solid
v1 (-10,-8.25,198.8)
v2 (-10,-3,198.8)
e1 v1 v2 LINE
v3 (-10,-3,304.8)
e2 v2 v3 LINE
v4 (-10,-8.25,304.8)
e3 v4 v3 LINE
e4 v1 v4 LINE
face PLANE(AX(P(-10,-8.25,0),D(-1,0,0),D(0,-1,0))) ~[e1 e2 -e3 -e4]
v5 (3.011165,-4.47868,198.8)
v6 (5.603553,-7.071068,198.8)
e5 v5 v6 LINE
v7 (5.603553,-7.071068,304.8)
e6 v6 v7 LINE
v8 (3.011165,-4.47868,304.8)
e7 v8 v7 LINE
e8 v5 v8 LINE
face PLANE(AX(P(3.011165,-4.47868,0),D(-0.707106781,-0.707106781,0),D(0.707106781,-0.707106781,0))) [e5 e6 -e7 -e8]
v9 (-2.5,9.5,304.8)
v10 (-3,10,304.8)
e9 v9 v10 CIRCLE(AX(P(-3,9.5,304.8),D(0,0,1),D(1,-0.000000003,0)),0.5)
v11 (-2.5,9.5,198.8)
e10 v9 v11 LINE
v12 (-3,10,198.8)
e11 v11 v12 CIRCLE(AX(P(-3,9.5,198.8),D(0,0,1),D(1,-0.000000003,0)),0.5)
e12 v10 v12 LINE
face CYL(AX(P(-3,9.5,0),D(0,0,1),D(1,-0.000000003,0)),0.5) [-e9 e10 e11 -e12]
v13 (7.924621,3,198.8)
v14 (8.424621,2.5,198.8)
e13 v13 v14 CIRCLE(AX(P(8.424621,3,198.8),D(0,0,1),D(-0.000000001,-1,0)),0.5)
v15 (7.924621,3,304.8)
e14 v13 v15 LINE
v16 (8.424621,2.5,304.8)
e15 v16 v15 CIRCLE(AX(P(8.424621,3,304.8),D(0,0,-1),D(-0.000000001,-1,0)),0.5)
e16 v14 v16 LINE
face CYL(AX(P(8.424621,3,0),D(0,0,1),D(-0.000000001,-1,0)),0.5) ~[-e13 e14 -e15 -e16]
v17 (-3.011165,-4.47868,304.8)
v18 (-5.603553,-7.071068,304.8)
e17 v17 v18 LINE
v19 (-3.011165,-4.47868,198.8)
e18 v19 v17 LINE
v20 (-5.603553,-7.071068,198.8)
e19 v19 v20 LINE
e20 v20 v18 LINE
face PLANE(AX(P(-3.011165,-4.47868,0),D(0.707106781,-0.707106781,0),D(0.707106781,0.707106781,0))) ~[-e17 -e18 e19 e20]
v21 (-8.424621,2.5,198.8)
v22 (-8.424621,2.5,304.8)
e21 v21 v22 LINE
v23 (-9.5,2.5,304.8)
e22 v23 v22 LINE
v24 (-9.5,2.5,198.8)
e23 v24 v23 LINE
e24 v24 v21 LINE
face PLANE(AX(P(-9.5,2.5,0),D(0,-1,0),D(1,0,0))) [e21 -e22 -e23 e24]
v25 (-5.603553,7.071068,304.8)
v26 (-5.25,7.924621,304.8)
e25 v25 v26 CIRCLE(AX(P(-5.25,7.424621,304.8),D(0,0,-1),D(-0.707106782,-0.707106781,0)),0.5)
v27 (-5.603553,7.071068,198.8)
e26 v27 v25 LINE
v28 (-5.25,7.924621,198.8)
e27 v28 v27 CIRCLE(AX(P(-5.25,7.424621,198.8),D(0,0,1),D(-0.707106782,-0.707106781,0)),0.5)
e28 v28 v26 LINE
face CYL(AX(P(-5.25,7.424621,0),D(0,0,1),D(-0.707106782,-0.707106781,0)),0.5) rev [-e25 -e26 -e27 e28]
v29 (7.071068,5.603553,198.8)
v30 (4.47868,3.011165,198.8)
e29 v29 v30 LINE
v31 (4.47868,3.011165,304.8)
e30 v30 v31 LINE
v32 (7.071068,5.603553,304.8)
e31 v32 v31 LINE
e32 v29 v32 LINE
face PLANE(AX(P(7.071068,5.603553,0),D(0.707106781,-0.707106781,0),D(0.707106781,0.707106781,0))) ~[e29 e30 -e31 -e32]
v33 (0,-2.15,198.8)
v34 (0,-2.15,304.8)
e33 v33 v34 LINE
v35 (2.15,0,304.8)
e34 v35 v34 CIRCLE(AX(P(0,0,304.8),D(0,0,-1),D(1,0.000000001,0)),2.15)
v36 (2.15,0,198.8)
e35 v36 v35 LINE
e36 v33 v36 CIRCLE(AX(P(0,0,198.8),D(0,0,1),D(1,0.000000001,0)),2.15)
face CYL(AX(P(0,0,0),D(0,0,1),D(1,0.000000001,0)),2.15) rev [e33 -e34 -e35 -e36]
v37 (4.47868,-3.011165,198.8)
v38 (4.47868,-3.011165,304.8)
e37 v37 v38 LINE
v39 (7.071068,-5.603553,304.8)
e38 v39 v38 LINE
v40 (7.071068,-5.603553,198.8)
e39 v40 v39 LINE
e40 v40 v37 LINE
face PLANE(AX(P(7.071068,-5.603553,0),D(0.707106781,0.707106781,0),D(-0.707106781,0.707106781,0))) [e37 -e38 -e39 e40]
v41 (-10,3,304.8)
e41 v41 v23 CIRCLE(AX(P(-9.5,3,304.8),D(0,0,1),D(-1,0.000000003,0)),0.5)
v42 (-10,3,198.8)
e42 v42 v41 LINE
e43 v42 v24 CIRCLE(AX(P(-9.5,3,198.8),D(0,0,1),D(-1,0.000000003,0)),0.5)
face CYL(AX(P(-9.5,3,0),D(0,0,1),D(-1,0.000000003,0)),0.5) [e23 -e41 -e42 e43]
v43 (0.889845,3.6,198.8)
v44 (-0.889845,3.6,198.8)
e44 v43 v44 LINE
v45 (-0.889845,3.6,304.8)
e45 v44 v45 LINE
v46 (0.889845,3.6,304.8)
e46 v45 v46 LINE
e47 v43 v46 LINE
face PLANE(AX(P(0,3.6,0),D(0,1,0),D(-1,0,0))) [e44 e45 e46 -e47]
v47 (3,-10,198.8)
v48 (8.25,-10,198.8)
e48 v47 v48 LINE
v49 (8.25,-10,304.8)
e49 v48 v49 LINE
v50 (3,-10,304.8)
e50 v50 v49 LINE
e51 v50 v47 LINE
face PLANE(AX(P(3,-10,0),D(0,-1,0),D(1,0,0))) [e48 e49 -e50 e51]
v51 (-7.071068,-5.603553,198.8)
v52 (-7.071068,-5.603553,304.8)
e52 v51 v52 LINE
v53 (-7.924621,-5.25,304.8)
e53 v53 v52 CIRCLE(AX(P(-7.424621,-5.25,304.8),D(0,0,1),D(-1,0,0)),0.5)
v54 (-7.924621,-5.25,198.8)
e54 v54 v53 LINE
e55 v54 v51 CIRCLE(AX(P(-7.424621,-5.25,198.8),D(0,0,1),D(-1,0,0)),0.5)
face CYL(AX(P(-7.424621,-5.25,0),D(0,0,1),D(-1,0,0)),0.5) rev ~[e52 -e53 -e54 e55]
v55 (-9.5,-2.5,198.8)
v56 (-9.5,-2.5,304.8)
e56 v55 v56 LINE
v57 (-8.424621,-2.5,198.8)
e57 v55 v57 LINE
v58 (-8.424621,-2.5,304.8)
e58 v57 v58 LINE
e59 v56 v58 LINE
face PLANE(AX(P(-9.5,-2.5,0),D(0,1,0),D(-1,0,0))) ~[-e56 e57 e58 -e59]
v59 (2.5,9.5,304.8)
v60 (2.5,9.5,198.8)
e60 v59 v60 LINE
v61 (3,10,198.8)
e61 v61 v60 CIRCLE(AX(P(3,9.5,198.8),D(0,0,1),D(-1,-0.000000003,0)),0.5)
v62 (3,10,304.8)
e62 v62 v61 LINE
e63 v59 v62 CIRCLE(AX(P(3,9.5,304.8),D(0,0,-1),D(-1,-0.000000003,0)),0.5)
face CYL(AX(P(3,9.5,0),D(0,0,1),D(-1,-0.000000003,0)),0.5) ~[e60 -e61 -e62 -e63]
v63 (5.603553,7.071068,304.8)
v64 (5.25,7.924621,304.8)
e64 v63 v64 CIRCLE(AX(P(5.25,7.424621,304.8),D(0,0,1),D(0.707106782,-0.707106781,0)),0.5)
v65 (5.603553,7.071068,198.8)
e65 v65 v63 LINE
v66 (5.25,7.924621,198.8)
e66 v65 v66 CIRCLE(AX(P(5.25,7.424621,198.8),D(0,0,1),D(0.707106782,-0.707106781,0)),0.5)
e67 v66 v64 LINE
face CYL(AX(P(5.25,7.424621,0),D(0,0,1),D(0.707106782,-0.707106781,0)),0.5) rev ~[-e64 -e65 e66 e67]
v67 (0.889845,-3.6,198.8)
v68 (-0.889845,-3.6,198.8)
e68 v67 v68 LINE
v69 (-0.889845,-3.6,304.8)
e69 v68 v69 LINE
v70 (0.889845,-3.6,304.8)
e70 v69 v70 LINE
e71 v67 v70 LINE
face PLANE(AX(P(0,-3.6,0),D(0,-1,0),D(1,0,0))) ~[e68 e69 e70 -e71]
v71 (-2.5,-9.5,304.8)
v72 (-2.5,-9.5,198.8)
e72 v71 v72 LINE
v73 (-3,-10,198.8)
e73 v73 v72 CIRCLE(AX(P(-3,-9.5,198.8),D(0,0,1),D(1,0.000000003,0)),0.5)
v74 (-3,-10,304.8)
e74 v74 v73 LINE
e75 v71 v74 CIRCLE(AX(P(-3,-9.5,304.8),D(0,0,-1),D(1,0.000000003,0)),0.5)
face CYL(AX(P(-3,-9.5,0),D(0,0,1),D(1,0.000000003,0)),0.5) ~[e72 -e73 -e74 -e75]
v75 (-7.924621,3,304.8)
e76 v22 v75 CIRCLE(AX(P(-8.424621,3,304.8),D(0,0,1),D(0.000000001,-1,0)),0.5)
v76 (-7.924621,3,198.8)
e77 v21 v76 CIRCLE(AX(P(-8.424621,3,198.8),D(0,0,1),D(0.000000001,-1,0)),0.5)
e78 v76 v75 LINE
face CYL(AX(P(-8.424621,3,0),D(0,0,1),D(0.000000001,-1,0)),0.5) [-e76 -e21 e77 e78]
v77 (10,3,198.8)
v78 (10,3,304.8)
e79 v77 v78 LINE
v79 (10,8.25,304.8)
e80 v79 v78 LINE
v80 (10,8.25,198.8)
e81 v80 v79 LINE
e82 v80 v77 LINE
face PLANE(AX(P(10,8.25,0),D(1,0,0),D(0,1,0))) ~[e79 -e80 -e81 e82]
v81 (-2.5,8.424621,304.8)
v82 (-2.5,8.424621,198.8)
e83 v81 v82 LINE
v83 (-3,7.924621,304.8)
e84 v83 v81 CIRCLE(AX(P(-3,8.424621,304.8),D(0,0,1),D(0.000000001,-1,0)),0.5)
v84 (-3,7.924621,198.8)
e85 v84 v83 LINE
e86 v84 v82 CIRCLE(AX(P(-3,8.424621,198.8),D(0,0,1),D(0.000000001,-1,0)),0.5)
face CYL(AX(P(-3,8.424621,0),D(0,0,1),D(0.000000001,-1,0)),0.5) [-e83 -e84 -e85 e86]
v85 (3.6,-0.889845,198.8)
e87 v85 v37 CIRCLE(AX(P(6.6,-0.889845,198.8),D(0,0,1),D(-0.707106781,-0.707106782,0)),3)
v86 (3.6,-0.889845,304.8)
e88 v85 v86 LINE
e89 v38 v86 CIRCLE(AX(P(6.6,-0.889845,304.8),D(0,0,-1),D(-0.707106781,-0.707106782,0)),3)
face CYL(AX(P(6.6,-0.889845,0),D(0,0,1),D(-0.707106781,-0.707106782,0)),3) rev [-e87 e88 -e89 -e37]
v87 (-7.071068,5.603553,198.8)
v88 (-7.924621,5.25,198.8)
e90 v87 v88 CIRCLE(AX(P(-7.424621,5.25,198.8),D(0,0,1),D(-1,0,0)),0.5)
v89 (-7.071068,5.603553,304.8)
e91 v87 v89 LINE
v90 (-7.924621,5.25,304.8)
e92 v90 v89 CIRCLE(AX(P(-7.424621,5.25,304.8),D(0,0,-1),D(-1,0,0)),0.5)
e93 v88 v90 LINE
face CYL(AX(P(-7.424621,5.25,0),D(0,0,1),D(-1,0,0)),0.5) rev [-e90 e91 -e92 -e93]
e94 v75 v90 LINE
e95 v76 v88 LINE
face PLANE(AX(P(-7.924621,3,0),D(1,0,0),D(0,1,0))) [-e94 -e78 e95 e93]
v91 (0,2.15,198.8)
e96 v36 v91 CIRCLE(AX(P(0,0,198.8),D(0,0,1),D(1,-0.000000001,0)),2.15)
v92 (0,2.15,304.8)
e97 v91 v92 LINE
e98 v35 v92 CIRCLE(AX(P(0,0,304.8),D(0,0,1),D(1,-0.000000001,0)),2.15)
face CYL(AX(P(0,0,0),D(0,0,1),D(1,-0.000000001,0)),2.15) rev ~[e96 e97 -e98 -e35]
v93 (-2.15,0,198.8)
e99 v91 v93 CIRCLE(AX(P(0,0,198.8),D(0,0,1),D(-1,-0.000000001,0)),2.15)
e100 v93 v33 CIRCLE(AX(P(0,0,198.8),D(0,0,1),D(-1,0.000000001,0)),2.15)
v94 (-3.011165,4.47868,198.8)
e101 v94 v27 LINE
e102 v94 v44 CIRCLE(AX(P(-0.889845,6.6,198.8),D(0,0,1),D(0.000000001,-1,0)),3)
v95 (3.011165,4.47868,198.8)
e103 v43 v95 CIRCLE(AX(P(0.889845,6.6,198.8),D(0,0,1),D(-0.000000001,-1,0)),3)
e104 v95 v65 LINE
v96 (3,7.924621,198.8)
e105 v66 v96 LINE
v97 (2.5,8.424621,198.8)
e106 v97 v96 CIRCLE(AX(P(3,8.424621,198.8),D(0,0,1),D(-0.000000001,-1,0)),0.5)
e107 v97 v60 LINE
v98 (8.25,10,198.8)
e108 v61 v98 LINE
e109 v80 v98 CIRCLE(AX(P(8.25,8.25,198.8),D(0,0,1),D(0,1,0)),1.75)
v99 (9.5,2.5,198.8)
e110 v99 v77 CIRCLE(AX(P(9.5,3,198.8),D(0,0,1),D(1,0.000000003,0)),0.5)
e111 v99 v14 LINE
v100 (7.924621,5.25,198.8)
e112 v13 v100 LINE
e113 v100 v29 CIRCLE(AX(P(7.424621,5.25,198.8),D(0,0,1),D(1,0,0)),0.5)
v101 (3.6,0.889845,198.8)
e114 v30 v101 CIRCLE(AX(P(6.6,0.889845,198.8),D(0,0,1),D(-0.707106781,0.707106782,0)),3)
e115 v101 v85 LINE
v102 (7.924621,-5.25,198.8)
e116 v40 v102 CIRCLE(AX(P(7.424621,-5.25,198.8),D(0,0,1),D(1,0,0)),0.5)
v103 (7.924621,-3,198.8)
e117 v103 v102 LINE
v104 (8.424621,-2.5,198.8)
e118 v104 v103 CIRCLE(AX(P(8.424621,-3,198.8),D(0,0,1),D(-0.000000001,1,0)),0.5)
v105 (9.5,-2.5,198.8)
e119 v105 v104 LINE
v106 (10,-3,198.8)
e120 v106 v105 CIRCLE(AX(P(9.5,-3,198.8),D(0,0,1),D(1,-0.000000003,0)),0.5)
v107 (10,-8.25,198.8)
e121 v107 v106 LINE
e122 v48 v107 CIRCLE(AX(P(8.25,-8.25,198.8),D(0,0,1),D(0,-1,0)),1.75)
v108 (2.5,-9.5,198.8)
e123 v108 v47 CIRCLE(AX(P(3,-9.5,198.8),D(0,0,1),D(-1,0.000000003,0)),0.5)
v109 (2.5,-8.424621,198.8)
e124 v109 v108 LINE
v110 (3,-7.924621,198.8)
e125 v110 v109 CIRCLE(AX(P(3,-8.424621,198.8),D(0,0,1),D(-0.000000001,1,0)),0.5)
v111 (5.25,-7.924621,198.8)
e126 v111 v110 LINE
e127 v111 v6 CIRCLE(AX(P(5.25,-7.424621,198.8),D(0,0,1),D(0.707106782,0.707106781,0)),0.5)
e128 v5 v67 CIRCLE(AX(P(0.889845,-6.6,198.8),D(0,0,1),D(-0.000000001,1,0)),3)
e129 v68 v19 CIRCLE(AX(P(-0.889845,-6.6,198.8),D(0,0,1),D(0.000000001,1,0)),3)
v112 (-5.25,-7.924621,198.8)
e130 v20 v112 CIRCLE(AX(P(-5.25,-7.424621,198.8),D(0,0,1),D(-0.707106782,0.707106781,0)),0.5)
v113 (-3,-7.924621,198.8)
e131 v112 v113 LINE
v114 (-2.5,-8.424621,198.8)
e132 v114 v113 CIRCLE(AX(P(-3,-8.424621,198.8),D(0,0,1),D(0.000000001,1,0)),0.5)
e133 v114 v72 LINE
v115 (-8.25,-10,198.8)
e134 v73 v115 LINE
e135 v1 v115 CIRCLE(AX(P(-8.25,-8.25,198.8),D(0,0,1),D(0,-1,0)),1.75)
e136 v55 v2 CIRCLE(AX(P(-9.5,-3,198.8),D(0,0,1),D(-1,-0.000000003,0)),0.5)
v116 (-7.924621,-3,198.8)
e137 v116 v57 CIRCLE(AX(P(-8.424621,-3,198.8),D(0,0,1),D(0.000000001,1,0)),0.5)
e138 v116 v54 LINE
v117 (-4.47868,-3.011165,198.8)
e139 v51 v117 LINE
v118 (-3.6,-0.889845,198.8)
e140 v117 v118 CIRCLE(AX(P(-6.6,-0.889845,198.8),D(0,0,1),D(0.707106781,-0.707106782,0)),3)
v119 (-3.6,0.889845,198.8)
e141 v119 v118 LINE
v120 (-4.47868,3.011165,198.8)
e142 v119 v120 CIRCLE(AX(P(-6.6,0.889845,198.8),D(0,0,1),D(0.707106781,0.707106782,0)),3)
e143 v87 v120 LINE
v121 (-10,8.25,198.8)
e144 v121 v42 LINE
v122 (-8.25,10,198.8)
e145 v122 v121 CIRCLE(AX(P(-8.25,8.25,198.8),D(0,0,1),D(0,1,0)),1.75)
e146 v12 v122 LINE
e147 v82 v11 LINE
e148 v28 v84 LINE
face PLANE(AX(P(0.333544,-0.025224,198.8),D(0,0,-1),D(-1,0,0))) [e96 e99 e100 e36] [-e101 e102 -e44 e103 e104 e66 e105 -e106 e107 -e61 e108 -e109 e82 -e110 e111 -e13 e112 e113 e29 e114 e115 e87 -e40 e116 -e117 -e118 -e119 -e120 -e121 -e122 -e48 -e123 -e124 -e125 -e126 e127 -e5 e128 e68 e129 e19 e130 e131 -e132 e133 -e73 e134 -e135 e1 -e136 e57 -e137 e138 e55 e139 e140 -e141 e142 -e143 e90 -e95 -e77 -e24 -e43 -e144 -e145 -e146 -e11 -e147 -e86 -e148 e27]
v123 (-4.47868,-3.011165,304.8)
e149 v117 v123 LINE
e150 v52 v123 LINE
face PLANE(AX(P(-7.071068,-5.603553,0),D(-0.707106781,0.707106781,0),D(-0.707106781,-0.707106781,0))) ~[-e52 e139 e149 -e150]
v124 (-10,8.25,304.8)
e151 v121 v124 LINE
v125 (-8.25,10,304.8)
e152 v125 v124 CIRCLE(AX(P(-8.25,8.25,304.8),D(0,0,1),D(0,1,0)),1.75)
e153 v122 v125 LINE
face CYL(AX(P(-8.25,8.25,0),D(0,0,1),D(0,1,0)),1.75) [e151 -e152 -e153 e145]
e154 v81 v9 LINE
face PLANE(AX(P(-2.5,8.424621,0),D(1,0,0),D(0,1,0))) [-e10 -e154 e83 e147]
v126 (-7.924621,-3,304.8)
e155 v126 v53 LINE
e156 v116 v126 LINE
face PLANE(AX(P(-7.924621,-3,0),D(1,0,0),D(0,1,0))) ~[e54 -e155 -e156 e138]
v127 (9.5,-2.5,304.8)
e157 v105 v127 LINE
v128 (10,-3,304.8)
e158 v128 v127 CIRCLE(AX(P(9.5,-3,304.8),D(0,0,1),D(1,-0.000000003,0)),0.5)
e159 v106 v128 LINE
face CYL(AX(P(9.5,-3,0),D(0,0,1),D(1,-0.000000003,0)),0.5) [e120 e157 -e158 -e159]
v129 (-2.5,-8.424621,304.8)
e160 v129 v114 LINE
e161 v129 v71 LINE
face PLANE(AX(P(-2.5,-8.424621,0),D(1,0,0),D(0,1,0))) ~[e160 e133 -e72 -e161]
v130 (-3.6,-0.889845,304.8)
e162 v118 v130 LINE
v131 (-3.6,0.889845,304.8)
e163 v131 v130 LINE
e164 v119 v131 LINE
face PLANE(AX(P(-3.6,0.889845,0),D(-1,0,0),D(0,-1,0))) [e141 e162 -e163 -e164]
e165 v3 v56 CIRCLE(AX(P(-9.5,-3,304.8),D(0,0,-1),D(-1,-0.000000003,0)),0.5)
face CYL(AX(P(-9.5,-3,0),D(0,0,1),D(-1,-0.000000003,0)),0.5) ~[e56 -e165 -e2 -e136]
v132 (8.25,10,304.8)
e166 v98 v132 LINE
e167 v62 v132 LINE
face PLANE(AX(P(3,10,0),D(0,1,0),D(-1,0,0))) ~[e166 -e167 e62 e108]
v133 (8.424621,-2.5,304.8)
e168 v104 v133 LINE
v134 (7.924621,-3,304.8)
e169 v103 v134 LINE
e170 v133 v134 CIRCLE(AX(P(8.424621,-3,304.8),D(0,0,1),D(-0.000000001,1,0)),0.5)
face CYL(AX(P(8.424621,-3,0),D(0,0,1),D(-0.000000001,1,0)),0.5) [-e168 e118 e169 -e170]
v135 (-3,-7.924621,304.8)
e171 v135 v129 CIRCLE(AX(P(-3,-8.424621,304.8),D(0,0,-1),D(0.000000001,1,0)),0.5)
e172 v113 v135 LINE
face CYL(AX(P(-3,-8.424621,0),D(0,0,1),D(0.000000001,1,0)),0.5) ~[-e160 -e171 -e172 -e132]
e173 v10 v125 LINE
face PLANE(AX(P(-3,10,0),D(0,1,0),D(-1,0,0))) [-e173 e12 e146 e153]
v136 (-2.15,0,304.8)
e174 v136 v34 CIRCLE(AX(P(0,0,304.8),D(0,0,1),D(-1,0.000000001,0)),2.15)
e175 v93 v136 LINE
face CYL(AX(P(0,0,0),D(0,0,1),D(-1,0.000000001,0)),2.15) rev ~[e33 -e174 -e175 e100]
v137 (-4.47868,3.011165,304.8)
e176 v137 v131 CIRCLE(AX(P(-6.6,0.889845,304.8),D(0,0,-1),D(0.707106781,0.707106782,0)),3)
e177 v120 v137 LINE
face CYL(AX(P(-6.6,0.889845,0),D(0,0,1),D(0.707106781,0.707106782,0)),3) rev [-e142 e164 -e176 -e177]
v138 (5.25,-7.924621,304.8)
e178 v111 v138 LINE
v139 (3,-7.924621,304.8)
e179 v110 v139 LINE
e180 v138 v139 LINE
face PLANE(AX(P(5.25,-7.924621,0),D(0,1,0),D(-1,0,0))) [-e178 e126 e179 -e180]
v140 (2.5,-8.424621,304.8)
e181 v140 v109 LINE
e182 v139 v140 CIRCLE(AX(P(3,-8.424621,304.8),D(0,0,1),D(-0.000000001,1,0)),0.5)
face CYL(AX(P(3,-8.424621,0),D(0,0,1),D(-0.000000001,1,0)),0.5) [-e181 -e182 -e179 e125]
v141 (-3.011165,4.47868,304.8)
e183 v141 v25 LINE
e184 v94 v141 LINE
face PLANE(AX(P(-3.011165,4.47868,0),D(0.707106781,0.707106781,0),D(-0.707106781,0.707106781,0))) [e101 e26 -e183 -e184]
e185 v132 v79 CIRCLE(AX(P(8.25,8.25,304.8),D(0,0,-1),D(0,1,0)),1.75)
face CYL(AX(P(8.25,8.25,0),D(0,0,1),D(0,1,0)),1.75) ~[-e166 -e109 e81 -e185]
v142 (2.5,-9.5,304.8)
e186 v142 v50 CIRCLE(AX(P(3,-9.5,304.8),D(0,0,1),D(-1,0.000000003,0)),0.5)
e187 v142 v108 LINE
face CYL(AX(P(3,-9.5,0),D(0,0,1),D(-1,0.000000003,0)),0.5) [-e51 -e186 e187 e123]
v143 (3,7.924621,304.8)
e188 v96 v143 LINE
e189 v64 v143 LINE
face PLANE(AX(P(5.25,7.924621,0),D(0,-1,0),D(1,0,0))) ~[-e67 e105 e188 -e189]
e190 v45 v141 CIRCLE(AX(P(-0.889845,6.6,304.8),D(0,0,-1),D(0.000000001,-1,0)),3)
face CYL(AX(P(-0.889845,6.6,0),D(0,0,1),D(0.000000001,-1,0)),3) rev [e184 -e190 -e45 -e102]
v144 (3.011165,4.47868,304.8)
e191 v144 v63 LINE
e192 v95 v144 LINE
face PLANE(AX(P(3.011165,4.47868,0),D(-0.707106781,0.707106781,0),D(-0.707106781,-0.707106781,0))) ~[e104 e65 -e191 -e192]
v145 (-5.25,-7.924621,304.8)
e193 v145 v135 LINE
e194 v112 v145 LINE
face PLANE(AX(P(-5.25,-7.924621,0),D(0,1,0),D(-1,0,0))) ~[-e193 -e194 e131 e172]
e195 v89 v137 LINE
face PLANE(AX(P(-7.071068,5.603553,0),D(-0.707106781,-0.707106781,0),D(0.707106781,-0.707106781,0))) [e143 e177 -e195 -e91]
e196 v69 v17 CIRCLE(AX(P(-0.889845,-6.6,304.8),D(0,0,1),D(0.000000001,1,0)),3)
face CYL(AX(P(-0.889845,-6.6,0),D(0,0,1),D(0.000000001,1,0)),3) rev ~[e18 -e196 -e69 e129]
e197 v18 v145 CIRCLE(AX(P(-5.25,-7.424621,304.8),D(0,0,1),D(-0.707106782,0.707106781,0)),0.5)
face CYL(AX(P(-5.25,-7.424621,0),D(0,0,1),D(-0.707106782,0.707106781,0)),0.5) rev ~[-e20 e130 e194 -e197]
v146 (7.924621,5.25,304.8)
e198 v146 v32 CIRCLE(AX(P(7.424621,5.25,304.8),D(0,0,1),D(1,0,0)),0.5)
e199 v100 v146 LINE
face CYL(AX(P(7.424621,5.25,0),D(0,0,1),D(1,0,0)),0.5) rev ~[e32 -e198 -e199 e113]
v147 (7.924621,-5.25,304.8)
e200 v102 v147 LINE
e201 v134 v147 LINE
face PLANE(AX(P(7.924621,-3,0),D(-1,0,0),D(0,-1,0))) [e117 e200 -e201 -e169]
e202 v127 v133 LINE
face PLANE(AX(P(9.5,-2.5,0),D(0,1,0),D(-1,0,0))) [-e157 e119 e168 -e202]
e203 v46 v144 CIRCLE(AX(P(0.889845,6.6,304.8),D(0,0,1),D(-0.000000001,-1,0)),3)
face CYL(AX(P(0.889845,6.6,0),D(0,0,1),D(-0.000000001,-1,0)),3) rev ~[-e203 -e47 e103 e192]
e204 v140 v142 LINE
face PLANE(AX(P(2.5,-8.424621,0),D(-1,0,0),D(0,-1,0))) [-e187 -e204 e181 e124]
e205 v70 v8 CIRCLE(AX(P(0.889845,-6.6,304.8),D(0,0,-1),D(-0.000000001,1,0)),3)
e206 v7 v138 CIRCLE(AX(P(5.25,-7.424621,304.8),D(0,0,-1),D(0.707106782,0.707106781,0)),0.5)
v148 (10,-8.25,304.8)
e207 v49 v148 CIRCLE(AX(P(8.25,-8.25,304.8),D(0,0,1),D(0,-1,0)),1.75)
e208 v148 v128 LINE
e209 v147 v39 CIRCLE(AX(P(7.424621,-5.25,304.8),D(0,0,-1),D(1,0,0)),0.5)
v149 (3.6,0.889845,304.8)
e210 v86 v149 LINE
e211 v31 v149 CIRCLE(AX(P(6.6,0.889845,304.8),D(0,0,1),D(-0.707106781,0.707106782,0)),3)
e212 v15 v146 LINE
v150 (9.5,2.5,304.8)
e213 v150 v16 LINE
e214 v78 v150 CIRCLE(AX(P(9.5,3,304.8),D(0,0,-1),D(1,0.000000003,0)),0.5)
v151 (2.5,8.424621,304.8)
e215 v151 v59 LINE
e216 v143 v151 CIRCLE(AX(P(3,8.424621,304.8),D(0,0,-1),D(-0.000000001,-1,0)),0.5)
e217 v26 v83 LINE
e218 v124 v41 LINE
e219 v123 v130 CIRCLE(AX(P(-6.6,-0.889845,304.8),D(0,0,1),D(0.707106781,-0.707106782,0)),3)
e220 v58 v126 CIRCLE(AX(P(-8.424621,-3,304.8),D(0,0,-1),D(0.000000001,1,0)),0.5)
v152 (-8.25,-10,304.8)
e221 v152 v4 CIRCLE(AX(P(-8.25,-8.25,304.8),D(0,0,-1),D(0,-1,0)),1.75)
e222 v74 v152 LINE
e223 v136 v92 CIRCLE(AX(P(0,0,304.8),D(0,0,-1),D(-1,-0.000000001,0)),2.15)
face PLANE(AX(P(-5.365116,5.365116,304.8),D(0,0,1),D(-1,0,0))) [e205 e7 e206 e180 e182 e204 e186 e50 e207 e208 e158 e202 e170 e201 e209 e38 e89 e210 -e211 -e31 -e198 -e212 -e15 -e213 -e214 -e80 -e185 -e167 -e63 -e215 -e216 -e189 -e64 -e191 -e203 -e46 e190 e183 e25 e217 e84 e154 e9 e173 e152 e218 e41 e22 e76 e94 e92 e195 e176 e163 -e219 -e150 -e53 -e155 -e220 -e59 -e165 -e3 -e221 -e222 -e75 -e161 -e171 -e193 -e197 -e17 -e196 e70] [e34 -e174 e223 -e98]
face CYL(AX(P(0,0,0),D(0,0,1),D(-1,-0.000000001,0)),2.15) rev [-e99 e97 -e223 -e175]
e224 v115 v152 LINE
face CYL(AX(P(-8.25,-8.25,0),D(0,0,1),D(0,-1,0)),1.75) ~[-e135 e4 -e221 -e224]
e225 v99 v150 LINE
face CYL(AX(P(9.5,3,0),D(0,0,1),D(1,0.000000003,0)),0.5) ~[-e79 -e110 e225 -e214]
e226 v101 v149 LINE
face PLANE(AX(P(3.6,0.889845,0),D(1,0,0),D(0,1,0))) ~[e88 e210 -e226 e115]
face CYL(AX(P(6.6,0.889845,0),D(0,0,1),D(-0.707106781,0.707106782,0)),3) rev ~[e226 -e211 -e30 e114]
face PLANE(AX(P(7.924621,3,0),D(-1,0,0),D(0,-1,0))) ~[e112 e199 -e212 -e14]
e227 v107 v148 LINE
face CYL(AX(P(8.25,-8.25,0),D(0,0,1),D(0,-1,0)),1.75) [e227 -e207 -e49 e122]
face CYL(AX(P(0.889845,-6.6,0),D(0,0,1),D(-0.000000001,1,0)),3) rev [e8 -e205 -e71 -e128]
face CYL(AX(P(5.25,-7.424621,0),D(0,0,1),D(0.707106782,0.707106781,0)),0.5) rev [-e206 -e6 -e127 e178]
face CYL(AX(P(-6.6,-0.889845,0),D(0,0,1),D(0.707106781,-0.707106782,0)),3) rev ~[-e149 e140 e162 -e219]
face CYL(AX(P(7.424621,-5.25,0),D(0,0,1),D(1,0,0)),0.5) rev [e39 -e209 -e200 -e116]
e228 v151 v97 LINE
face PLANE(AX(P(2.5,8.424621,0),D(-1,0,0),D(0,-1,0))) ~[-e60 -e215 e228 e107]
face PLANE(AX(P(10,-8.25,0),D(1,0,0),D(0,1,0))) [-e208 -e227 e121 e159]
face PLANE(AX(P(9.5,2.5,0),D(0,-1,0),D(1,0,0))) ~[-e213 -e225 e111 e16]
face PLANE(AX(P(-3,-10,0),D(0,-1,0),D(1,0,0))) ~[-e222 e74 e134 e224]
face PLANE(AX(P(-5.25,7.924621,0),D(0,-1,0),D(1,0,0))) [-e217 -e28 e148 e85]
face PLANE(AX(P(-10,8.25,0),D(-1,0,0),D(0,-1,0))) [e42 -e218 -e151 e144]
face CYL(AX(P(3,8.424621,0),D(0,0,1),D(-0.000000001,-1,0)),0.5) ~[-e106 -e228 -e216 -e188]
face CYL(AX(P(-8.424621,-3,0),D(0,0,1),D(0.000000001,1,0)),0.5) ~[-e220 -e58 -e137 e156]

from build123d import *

# Parameters (mm, degrees)
BOSS_EXTRUDE1_DEPTH = 304.8
SKETCH5_W           = 26.995197012
SKETCH5_H           = 24.68705749
CUT_EXTRUDE1_DEPTH  = 503.6


with BuildPart() as part:
    # Sketch4 → Boss-Extrude1 (new, symmetric)
    with BuildSketch(Plane.XY):
        with BuildLine():
            Line((3, -10), (8.25, -10))
            ThreePointArc((8.25, -10), (9.487436867, -9.487436867), (10, -8.25))
            Line((10, -8.25), (10, -3))
            ThreePointArc((10, -3), (9.853553391, -2.646446609), (9.5, -2.5))
            Line((9.5, -2.5), (8.424621202, -2.5))
            ThreePointArc((8.424621202, -2.5), (8.071067812, -2.646446609), (7.924621202, -3))
            Line((7.924621202, -3), (7.924621202, -5.25))
            ThreePointArc((7.924621202, -5.25), (7.615962919, -5.711939766), (7.071067812, -5.603553391))
            Line((7.071067812, -5.603553391), (4.478679656, -3.011165235))
            ThreePointArc((4.478679656, -3.011165235), (3.828361402, -2.037895189), (3.6, -0.889844892))
            Line((3.6, -0.889844892), (3.6, 0))
            Line((3.6, 0), (2.15, 0))
            ThreePointArc((2.15, 0), (1.52027958, -1.52027958), (0, -2.15))
            Line((0, -2.15), (0, -3.6))
            Line((0, -3.6), (0.889844892, -3.6))
            ThreePointArc((0.889844892, -3.6), (2.037895189, -3.828361402), (3.011165235, -4.478679656))
            Line((3.011165235, -4.478679656), (5.603553391, -7.071067812))
            ThreePointArc((5.603553391, -7.071067812), (5.711939766, -7.615962919), (5.25, -7.924621202))
            Line((5.25, -7.924621202), (3, -7.924621202))
            ThreePointArc((3, -7.924621202), (2.646446609, -8.071067812), (2.5, -8.424621202))
            Line((2.5, -8.424621202), (2.5, -9.5))
            ThreePointArc((2.5, -9.5), (2.646446609, -9.853553391), (3, -10))
        make_face()
    extrude(amount=BOSS_EXTRUDE1_DEPTH, both=True)

    # Mirror1: part across plane


with BuildPart() as part_1:
    add(part.part)
    add(part.part.mirror(Plane(origin=(0, 0, 0), x_dir=(0, 0, 1), z_dir=(1, 0, 0))))

    # Mirror2: part across plane


with BuildPart() as part_2:
    add(part_1.part)
    add(part_1.part.mirror(Plane.ZX))

    # Sketch5 → Cut-Extrude1 (cut)
    with BuildSketch(Plane(origin=(0, 0, -304.8), x_dir=(-1, 0, 0), z_dir=(0, 0, -1))):
        with Locations((-0.333544011, -0.025224209)):
            Rectangle(SKETCH5_W, SKETCH5_H)
    extrude(amount=-CUT_EXTRUDE1_DEPTH, mode=Mode.SUBTRACT)


solid = part_2.part
